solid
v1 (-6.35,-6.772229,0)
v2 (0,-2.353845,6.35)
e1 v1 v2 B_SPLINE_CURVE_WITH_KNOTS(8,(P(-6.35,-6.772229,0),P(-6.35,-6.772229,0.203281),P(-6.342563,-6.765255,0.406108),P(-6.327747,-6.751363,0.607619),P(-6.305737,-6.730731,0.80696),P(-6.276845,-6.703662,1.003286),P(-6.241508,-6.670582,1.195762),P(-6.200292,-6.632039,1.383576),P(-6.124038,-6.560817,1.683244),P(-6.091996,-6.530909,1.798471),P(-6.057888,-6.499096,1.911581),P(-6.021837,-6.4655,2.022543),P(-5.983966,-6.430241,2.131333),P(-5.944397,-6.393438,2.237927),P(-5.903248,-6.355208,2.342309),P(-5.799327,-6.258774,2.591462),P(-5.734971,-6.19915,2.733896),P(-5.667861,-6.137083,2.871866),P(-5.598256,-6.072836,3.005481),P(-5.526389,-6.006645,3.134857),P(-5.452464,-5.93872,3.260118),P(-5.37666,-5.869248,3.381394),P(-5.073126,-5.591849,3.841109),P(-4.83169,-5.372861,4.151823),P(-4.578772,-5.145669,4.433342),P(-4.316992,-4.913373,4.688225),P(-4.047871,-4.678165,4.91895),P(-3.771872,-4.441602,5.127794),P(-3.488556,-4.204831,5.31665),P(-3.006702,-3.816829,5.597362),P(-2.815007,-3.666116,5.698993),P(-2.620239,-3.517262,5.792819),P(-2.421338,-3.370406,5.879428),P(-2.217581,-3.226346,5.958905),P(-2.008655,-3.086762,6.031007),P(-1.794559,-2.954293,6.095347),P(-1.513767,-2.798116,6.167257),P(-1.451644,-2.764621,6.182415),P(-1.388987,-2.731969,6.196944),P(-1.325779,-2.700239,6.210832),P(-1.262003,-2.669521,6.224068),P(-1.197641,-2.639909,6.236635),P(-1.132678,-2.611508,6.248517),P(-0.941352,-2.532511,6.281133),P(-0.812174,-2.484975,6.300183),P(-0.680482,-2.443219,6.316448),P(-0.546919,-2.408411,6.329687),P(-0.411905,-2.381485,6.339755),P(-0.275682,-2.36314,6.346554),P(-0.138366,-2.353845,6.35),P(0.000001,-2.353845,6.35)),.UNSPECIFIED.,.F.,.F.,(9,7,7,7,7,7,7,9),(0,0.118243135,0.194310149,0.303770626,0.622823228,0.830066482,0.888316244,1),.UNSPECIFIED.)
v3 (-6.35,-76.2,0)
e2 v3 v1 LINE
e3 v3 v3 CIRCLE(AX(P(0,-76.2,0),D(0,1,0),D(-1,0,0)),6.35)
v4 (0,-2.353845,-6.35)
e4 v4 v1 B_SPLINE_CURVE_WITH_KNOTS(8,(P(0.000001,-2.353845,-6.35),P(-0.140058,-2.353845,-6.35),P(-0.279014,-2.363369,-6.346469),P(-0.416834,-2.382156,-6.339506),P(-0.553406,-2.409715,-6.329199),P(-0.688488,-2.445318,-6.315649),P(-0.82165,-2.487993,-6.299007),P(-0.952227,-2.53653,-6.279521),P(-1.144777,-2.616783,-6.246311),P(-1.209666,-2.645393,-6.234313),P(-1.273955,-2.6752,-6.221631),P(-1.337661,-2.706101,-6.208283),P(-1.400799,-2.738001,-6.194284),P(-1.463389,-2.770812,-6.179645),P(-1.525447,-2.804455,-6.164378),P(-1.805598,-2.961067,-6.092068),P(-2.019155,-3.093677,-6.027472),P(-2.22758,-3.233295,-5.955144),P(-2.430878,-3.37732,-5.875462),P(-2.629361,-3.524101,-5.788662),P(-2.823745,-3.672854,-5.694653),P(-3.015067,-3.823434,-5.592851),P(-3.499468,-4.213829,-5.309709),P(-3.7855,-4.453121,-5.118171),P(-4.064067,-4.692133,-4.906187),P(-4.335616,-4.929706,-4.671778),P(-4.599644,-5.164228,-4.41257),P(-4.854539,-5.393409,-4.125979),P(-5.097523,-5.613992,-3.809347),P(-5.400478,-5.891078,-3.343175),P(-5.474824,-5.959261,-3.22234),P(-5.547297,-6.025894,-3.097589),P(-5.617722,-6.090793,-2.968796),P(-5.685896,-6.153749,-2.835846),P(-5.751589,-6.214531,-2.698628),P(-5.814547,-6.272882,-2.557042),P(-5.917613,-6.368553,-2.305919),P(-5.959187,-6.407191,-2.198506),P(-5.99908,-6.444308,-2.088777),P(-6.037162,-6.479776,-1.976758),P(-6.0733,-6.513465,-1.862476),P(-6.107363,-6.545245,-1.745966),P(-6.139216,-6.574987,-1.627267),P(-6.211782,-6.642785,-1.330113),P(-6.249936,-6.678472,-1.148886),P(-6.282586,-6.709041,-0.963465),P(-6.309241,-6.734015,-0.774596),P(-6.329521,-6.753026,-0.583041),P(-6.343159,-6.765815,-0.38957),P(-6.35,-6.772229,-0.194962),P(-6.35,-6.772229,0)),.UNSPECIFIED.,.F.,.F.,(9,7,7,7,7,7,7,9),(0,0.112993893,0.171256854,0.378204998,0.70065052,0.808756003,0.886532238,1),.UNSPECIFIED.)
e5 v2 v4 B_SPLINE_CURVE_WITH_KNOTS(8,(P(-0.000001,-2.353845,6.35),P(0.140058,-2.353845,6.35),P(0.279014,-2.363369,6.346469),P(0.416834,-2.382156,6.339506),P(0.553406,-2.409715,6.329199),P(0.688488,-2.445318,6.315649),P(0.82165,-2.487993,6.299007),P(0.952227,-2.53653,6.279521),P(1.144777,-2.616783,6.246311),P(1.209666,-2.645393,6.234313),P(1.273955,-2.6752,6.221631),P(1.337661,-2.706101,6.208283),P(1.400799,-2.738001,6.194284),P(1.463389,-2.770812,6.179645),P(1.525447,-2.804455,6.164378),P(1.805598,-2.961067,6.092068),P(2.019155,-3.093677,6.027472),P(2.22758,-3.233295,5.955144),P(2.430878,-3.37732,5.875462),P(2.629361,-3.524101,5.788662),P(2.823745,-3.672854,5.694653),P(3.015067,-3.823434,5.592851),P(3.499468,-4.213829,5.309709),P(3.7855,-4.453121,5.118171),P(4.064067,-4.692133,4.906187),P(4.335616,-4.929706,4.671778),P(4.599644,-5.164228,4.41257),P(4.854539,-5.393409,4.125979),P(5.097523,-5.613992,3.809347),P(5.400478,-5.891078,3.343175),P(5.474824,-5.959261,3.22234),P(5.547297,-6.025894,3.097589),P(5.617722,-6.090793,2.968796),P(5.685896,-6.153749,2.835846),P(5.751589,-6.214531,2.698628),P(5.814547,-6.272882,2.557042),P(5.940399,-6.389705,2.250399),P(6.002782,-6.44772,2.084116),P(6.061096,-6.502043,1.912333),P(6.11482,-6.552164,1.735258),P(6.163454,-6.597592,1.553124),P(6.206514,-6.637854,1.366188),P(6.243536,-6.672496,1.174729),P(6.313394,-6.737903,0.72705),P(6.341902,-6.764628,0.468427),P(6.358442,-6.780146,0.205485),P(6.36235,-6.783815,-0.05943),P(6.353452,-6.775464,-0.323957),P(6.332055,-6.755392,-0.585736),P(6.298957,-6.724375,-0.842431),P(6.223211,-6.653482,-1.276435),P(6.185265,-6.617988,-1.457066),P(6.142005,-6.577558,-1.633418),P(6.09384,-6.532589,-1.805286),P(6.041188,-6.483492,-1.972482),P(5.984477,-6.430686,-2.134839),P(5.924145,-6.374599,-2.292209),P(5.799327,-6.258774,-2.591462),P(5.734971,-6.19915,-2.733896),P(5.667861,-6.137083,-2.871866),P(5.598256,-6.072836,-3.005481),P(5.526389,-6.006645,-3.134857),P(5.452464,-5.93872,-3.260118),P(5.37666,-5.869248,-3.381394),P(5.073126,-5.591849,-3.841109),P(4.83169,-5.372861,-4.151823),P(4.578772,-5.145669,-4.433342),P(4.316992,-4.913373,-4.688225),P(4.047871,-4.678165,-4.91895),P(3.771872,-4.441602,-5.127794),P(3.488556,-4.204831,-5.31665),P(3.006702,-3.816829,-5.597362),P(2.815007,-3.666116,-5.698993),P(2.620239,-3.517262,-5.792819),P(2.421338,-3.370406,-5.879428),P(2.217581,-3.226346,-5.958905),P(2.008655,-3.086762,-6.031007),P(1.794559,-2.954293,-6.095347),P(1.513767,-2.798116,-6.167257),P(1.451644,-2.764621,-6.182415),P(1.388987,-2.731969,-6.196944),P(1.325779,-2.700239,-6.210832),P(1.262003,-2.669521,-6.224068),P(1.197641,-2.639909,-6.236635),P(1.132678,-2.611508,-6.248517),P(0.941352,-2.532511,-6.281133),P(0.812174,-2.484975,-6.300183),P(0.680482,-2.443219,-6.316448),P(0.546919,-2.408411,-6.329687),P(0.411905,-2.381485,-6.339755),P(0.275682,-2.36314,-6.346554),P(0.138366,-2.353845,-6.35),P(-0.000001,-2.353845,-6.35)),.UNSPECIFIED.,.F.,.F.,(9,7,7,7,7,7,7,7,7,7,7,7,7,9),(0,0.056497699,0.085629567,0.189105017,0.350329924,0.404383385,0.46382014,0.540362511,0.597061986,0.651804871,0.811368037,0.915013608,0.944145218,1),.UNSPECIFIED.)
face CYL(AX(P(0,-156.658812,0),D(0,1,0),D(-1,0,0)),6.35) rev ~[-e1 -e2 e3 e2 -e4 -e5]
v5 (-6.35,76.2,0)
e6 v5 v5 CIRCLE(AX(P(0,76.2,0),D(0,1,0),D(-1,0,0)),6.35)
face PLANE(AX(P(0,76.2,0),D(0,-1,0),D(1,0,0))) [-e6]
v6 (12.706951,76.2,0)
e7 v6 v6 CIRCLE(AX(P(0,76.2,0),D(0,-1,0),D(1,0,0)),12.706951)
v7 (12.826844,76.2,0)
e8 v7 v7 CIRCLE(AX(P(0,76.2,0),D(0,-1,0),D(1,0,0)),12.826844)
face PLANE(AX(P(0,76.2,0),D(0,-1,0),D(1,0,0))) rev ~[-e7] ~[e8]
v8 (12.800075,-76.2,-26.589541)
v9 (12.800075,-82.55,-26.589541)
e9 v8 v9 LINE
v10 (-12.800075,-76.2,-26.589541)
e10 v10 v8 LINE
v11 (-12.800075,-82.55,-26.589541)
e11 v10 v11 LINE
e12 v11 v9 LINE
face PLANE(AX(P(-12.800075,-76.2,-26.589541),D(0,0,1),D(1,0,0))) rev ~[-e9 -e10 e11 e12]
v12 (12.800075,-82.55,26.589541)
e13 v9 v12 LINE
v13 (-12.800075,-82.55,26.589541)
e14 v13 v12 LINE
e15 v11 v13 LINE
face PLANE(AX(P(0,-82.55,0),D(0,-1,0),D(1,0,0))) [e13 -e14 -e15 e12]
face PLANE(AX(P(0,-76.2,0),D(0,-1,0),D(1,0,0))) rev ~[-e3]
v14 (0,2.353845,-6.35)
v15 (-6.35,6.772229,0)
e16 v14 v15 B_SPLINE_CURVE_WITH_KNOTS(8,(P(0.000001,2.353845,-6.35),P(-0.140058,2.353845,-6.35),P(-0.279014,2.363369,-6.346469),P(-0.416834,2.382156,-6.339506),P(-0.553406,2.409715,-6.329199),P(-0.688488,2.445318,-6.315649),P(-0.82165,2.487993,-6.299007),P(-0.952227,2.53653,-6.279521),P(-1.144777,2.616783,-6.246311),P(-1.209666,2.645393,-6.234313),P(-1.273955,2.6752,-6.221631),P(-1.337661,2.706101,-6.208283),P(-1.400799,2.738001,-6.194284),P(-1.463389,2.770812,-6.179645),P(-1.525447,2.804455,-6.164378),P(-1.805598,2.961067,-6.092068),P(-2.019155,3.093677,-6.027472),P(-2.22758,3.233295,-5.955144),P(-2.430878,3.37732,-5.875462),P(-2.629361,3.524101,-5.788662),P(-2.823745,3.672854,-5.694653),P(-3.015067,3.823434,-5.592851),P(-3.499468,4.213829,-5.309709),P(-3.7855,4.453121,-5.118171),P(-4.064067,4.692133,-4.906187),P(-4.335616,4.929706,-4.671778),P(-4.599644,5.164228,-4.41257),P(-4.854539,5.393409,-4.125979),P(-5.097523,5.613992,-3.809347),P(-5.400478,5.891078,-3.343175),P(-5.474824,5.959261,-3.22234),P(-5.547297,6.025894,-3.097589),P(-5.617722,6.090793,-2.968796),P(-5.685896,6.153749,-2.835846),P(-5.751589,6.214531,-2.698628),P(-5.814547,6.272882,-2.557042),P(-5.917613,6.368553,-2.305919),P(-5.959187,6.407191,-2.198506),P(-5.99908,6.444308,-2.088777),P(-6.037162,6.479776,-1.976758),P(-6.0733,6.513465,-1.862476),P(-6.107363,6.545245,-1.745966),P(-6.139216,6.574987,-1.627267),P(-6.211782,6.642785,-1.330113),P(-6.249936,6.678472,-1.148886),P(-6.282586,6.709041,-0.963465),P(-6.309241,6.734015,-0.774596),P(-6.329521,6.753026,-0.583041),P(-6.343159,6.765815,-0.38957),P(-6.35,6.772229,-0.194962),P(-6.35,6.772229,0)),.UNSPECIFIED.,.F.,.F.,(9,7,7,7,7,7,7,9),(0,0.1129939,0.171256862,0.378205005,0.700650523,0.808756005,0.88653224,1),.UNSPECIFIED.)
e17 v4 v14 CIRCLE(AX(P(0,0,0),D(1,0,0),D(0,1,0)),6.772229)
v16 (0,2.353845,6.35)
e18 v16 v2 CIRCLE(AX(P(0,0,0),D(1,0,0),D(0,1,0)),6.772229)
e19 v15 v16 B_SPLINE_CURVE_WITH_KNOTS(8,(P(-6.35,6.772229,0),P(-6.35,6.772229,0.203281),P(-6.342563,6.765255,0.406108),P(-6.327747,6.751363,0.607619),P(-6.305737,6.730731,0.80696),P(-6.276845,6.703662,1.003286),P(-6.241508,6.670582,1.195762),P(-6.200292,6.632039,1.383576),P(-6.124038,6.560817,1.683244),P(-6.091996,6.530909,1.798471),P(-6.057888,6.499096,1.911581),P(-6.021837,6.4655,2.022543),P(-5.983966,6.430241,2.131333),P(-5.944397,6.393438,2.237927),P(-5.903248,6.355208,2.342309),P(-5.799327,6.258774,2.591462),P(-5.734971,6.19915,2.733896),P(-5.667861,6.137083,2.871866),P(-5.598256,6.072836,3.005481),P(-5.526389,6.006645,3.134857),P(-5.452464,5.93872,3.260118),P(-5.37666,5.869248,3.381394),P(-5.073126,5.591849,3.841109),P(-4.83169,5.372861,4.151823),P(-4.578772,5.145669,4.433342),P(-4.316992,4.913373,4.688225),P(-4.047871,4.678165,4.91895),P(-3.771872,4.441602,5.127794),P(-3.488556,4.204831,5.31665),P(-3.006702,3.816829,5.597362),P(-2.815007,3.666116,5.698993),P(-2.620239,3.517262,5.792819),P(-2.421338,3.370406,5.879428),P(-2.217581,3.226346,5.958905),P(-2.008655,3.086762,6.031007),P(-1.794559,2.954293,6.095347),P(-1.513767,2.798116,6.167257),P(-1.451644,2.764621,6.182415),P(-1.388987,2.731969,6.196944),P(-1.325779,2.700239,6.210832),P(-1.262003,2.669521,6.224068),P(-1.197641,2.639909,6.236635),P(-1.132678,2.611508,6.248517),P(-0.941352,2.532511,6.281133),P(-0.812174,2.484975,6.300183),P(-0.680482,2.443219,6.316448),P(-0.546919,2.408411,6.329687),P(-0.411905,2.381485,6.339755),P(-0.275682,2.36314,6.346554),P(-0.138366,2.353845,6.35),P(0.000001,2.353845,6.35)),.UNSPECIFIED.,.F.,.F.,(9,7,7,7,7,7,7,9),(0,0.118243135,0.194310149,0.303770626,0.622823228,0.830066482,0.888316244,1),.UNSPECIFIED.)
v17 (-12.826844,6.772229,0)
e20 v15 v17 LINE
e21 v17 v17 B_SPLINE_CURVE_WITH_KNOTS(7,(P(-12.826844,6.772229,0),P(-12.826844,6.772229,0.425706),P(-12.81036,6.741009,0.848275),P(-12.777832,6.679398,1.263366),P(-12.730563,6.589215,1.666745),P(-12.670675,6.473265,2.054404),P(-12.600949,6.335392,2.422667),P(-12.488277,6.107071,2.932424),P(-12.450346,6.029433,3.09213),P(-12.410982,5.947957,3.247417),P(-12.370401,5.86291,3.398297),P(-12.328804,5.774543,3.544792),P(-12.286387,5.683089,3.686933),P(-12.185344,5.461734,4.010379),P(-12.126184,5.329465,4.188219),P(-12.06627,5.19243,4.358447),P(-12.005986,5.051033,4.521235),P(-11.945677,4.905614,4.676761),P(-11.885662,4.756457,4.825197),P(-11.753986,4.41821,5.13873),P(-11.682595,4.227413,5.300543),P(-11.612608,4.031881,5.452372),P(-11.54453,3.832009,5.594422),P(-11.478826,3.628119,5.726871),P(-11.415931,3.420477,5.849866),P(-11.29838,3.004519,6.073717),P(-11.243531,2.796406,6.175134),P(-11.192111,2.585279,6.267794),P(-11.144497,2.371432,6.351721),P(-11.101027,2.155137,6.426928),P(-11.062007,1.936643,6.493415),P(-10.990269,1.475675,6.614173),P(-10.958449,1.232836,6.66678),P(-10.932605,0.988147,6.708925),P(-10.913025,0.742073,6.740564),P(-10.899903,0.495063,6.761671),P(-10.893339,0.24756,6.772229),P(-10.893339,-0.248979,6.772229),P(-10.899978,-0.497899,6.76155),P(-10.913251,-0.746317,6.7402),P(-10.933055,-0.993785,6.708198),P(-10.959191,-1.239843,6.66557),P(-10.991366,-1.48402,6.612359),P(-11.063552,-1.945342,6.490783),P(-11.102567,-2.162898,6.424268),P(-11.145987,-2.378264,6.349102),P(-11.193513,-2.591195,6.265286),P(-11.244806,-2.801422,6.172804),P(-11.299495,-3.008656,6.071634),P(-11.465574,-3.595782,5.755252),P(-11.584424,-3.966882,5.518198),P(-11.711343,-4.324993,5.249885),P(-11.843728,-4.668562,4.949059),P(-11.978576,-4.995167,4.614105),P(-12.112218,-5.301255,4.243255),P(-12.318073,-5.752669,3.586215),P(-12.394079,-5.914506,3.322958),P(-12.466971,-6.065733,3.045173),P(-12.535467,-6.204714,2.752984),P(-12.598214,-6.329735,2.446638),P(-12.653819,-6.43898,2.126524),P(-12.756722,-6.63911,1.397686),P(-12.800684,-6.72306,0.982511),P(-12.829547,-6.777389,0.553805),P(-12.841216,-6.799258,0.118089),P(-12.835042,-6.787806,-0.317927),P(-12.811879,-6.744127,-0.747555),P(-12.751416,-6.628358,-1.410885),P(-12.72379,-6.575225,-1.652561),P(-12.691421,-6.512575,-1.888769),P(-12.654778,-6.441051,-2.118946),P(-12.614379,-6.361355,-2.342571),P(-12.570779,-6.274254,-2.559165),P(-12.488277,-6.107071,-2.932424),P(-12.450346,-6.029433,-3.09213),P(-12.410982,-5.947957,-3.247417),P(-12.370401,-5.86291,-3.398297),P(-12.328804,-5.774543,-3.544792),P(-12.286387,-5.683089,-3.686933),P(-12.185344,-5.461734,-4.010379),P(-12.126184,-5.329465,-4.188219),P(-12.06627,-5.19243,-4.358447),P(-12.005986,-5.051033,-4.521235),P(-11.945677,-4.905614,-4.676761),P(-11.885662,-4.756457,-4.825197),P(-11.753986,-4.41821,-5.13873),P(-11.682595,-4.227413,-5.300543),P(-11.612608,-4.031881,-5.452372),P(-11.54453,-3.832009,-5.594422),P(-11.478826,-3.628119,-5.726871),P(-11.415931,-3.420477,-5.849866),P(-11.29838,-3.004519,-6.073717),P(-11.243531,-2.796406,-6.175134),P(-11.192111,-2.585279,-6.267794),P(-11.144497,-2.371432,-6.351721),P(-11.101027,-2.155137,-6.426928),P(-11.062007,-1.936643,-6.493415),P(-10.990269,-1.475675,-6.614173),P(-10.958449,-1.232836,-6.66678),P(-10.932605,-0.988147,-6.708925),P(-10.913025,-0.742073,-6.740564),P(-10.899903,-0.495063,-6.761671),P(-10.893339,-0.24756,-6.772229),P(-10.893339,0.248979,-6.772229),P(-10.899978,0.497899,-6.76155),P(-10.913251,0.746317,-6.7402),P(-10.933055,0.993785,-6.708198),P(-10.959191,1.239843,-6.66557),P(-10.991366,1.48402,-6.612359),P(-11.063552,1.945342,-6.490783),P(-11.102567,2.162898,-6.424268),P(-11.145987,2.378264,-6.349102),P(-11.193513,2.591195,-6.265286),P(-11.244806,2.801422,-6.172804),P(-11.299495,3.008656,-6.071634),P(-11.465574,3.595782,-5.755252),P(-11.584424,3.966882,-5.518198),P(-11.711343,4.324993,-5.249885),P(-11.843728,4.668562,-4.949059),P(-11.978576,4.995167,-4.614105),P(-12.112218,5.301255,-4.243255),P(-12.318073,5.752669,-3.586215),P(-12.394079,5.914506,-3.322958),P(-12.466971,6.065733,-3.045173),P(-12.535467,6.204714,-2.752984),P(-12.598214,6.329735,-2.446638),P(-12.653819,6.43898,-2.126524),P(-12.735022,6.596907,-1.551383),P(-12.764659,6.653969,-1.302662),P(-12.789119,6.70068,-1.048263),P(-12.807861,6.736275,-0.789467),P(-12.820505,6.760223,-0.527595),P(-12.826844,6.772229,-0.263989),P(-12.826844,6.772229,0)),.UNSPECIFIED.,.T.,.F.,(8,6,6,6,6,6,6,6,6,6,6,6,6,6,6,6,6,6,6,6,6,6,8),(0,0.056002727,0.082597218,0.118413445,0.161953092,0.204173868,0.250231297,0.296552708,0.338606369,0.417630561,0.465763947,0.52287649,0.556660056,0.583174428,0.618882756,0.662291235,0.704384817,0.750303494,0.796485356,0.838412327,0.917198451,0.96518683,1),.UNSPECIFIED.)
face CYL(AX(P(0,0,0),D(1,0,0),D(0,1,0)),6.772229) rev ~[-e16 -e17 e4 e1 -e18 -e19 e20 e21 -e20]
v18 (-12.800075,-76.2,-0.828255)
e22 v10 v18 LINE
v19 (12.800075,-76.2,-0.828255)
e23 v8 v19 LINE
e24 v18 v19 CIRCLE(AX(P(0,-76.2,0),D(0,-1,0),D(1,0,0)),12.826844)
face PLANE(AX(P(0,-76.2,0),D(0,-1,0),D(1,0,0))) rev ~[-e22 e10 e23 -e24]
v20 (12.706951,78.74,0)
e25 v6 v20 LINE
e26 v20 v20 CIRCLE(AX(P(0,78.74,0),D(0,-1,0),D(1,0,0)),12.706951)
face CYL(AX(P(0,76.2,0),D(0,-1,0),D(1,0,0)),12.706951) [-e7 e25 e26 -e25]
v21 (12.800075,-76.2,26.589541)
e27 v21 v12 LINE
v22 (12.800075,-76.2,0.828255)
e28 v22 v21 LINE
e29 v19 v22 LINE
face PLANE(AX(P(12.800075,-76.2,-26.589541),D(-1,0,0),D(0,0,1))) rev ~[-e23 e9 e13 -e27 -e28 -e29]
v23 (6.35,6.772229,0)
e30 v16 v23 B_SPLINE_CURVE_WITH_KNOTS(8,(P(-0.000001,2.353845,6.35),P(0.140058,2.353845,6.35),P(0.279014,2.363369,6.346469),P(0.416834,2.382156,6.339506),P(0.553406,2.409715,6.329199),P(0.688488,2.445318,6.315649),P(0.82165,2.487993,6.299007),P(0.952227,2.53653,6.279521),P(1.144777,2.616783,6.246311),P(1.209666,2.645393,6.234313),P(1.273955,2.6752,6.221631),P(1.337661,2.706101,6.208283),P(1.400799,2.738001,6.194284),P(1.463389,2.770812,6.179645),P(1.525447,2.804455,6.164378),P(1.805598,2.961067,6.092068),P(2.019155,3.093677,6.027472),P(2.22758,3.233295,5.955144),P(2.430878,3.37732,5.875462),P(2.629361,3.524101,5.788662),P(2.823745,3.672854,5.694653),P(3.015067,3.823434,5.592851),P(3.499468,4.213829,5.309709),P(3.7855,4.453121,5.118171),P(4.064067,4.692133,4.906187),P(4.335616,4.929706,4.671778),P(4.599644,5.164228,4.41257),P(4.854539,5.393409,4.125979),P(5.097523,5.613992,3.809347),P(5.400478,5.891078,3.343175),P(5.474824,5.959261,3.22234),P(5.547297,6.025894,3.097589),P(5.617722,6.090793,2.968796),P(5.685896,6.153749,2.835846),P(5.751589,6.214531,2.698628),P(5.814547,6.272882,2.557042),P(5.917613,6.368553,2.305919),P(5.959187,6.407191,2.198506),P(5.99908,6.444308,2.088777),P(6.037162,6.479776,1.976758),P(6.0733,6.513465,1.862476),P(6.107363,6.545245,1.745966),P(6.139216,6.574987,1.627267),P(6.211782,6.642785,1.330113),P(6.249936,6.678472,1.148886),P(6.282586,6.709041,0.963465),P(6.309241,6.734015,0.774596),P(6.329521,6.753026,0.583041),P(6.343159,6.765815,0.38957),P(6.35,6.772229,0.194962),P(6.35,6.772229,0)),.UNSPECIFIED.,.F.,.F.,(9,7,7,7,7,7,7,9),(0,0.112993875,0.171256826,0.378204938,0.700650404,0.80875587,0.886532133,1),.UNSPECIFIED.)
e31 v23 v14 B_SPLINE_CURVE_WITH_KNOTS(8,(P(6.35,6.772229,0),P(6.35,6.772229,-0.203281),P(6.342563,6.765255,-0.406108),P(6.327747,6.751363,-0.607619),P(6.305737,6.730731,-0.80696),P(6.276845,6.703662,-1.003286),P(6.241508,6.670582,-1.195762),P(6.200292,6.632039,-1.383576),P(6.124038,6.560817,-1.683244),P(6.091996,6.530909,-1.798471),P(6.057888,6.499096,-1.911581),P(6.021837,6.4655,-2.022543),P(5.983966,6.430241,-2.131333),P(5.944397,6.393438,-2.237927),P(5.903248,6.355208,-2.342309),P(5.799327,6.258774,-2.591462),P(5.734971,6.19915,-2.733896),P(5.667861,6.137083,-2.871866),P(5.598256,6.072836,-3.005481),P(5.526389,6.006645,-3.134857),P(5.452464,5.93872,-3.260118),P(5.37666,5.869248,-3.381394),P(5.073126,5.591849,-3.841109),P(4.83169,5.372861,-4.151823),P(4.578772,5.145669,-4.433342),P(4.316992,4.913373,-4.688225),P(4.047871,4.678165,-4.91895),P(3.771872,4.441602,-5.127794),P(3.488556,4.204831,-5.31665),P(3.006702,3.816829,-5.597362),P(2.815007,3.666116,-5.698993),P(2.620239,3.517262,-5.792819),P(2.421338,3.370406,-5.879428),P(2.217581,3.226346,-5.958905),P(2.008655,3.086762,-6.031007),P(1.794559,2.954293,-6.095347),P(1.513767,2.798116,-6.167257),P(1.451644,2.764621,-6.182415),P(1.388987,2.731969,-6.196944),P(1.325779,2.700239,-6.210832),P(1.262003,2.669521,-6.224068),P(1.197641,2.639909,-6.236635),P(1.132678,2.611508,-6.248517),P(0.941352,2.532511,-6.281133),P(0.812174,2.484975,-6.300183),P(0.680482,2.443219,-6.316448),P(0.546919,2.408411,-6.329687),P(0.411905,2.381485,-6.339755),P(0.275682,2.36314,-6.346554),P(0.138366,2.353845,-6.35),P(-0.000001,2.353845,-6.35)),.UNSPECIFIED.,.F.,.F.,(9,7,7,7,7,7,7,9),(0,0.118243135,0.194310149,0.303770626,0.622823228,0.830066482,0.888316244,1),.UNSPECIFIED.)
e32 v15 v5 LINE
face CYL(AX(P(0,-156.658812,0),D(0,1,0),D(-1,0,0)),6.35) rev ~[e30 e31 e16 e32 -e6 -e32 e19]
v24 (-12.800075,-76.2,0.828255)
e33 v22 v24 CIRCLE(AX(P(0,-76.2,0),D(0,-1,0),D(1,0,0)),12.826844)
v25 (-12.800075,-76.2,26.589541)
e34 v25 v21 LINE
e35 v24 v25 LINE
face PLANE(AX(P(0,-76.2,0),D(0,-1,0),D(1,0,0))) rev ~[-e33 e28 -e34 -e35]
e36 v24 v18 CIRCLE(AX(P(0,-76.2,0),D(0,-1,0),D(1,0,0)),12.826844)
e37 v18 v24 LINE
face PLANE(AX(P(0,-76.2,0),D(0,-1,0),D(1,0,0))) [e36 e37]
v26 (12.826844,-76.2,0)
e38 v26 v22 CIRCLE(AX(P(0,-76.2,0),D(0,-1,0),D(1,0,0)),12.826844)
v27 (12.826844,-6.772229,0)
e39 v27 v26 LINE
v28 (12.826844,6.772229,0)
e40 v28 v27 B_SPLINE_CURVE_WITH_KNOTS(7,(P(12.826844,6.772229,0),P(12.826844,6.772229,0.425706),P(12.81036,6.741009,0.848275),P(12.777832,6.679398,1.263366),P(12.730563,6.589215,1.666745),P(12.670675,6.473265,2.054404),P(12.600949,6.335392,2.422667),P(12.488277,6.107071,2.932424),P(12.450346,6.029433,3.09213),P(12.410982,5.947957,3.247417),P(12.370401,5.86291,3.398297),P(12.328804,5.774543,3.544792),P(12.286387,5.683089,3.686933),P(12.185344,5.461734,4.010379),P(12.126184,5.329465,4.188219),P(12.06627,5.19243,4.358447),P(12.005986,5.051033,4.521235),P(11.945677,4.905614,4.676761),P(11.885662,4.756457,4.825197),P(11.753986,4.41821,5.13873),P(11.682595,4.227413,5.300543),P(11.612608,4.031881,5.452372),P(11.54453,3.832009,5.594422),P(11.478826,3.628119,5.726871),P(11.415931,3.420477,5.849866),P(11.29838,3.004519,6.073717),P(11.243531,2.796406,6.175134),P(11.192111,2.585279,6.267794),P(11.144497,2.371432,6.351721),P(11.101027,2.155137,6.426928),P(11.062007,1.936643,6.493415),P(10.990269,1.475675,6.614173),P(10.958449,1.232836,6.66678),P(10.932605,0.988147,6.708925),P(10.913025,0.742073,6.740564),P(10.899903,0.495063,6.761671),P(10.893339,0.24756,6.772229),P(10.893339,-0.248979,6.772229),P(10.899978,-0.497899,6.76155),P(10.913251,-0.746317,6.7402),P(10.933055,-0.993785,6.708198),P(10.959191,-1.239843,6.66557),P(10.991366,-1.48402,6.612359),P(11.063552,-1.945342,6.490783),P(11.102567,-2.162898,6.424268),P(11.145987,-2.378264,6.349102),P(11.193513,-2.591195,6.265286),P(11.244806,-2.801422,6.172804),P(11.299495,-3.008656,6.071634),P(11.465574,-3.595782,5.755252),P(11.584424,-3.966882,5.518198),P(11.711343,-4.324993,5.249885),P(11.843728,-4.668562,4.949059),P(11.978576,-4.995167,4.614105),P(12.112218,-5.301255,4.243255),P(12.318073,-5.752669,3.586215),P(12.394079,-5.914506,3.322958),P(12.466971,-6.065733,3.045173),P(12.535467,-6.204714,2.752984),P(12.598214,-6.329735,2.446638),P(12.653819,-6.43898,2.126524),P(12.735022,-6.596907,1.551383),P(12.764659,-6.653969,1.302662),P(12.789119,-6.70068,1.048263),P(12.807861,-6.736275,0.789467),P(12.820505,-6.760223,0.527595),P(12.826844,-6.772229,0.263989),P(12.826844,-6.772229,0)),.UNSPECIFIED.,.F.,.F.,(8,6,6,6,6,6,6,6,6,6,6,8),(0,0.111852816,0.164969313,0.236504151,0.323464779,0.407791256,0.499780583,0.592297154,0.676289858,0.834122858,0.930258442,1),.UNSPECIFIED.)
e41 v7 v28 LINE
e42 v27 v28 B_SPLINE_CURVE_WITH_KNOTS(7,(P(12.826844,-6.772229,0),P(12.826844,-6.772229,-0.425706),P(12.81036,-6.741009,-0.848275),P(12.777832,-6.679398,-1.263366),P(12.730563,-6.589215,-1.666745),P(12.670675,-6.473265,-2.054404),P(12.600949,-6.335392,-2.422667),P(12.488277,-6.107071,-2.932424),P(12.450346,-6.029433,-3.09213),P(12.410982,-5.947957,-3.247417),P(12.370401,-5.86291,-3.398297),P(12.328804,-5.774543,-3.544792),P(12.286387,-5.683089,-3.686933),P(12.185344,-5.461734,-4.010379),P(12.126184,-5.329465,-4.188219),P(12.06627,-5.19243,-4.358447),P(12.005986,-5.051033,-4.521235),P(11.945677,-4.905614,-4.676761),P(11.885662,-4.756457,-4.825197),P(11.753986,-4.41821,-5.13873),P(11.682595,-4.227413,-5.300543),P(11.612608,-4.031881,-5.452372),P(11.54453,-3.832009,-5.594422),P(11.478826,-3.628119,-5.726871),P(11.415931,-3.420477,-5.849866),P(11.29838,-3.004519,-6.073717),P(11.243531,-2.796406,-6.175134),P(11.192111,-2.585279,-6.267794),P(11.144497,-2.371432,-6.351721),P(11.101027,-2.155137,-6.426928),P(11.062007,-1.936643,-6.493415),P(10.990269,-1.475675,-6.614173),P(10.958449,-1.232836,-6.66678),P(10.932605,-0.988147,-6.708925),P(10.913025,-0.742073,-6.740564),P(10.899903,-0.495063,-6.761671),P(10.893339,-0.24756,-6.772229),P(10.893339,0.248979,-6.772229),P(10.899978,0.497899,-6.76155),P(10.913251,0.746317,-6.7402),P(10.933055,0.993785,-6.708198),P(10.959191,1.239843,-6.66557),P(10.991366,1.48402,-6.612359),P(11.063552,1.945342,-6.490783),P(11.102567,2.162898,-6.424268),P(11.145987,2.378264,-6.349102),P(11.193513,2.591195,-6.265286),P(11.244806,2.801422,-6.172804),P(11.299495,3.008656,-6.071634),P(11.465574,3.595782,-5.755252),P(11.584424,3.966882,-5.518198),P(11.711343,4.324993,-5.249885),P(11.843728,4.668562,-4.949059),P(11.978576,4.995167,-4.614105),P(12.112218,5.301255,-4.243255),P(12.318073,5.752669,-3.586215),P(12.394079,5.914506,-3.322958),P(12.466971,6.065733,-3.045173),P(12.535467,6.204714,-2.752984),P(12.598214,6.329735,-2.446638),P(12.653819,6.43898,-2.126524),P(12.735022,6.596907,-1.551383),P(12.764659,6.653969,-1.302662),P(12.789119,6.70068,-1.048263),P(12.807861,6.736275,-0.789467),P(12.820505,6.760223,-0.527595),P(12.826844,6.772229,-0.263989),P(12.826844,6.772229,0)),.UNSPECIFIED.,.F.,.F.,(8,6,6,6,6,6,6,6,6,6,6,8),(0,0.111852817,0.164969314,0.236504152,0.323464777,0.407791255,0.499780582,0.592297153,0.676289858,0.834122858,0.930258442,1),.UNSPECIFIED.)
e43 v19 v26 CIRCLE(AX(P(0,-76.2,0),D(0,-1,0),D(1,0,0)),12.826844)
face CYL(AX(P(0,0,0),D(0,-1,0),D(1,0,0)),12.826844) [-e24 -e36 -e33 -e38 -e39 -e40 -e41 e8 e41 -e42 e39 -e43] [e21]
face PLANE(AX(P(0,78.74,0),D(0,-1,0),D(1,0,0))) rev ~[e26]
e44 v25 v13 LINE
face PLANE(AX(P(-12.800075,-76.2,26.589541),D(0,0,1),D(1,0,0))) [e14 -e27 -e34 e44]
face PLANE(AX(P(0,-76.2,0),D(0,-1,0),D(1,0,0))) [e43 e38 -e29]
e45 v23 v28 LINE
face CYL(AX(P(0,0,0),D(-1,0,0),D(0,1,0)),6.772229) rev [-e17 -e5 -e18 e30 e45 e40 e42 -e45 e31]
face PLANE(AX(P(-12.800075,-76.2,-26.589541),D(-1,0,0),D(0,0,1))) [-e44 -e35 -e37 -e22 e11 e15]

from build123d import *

# Parameters (mm, degrees)
F1_R           = 12.826844
F2_DEPTH       = 76.2
F2_DEPTH_BACK  = 76.2
F3_D           = 12.7
F4_D           = 12.7
F5_W           = 25.60015
F5_H           = 53.179082
F6_DEPTH       = 6.35
F8_R           = 12.706951
F9_DEPTH       = 2.54
F11_D          = 6.35
F10_R          = 6.772229
F12_DEPTH      = 50.8
F12_DEPTH_BACK = 50.8


with BuildPart() as f2:
    # F1 (on Front) → F2 (new body, two sides)
    with BuildSketch(Plane.XZ) as f2_sk:
        Circle(F1_R)
    extrude(amount=F2_DEPTH)
    extrude(f2_sk.sketch, amount=-F2_DEPTH_BACK)

    # F3 (through all)
    with Locations(Plane.XZ):
        with Locations((0, 0)):
            Hole(F3_D / 2)

    # F4 (through all)
    with Locations(Plane(origin=(0, 0, 0), x_dir=(1, 0, 0), z_dir=(0, 1, 0))):
        with Locations((0, 0)):
            Hole(F4_D / 2)

    # F5 (on offset) → F6 (join)
    with BuildSketch(Plane.XZ.offset(76.2)):
        Rectangle(F5_W, F5_H)
    extrude(amount=F6_DEPTH)

    # F8 (on offset) → F9 (join)
    with BuildSketch(Plane.XZ.offset(-76.2)):
        Circle(F8_R)
    extrude(amount=-F9_DEPTH)

    # F11 (through all)
    with Locations(Plane.YZ):
        with Locations((0, 0)):
            Hole(F11_D / 2)

    # F10 (on Right) → F12 (cut, two sides)
    with BuildSketch(Plane.YZ) as f12_sk:
        Circle(F10_R)
    extrude(amount=F12_DEPTH, mode=Mode.SUBTRACT)
    extrude(f12_sk.sketch, amount=-F12_DEPTH_BACK, mode=Mode.SUBTRACT)


solid = f2.part
